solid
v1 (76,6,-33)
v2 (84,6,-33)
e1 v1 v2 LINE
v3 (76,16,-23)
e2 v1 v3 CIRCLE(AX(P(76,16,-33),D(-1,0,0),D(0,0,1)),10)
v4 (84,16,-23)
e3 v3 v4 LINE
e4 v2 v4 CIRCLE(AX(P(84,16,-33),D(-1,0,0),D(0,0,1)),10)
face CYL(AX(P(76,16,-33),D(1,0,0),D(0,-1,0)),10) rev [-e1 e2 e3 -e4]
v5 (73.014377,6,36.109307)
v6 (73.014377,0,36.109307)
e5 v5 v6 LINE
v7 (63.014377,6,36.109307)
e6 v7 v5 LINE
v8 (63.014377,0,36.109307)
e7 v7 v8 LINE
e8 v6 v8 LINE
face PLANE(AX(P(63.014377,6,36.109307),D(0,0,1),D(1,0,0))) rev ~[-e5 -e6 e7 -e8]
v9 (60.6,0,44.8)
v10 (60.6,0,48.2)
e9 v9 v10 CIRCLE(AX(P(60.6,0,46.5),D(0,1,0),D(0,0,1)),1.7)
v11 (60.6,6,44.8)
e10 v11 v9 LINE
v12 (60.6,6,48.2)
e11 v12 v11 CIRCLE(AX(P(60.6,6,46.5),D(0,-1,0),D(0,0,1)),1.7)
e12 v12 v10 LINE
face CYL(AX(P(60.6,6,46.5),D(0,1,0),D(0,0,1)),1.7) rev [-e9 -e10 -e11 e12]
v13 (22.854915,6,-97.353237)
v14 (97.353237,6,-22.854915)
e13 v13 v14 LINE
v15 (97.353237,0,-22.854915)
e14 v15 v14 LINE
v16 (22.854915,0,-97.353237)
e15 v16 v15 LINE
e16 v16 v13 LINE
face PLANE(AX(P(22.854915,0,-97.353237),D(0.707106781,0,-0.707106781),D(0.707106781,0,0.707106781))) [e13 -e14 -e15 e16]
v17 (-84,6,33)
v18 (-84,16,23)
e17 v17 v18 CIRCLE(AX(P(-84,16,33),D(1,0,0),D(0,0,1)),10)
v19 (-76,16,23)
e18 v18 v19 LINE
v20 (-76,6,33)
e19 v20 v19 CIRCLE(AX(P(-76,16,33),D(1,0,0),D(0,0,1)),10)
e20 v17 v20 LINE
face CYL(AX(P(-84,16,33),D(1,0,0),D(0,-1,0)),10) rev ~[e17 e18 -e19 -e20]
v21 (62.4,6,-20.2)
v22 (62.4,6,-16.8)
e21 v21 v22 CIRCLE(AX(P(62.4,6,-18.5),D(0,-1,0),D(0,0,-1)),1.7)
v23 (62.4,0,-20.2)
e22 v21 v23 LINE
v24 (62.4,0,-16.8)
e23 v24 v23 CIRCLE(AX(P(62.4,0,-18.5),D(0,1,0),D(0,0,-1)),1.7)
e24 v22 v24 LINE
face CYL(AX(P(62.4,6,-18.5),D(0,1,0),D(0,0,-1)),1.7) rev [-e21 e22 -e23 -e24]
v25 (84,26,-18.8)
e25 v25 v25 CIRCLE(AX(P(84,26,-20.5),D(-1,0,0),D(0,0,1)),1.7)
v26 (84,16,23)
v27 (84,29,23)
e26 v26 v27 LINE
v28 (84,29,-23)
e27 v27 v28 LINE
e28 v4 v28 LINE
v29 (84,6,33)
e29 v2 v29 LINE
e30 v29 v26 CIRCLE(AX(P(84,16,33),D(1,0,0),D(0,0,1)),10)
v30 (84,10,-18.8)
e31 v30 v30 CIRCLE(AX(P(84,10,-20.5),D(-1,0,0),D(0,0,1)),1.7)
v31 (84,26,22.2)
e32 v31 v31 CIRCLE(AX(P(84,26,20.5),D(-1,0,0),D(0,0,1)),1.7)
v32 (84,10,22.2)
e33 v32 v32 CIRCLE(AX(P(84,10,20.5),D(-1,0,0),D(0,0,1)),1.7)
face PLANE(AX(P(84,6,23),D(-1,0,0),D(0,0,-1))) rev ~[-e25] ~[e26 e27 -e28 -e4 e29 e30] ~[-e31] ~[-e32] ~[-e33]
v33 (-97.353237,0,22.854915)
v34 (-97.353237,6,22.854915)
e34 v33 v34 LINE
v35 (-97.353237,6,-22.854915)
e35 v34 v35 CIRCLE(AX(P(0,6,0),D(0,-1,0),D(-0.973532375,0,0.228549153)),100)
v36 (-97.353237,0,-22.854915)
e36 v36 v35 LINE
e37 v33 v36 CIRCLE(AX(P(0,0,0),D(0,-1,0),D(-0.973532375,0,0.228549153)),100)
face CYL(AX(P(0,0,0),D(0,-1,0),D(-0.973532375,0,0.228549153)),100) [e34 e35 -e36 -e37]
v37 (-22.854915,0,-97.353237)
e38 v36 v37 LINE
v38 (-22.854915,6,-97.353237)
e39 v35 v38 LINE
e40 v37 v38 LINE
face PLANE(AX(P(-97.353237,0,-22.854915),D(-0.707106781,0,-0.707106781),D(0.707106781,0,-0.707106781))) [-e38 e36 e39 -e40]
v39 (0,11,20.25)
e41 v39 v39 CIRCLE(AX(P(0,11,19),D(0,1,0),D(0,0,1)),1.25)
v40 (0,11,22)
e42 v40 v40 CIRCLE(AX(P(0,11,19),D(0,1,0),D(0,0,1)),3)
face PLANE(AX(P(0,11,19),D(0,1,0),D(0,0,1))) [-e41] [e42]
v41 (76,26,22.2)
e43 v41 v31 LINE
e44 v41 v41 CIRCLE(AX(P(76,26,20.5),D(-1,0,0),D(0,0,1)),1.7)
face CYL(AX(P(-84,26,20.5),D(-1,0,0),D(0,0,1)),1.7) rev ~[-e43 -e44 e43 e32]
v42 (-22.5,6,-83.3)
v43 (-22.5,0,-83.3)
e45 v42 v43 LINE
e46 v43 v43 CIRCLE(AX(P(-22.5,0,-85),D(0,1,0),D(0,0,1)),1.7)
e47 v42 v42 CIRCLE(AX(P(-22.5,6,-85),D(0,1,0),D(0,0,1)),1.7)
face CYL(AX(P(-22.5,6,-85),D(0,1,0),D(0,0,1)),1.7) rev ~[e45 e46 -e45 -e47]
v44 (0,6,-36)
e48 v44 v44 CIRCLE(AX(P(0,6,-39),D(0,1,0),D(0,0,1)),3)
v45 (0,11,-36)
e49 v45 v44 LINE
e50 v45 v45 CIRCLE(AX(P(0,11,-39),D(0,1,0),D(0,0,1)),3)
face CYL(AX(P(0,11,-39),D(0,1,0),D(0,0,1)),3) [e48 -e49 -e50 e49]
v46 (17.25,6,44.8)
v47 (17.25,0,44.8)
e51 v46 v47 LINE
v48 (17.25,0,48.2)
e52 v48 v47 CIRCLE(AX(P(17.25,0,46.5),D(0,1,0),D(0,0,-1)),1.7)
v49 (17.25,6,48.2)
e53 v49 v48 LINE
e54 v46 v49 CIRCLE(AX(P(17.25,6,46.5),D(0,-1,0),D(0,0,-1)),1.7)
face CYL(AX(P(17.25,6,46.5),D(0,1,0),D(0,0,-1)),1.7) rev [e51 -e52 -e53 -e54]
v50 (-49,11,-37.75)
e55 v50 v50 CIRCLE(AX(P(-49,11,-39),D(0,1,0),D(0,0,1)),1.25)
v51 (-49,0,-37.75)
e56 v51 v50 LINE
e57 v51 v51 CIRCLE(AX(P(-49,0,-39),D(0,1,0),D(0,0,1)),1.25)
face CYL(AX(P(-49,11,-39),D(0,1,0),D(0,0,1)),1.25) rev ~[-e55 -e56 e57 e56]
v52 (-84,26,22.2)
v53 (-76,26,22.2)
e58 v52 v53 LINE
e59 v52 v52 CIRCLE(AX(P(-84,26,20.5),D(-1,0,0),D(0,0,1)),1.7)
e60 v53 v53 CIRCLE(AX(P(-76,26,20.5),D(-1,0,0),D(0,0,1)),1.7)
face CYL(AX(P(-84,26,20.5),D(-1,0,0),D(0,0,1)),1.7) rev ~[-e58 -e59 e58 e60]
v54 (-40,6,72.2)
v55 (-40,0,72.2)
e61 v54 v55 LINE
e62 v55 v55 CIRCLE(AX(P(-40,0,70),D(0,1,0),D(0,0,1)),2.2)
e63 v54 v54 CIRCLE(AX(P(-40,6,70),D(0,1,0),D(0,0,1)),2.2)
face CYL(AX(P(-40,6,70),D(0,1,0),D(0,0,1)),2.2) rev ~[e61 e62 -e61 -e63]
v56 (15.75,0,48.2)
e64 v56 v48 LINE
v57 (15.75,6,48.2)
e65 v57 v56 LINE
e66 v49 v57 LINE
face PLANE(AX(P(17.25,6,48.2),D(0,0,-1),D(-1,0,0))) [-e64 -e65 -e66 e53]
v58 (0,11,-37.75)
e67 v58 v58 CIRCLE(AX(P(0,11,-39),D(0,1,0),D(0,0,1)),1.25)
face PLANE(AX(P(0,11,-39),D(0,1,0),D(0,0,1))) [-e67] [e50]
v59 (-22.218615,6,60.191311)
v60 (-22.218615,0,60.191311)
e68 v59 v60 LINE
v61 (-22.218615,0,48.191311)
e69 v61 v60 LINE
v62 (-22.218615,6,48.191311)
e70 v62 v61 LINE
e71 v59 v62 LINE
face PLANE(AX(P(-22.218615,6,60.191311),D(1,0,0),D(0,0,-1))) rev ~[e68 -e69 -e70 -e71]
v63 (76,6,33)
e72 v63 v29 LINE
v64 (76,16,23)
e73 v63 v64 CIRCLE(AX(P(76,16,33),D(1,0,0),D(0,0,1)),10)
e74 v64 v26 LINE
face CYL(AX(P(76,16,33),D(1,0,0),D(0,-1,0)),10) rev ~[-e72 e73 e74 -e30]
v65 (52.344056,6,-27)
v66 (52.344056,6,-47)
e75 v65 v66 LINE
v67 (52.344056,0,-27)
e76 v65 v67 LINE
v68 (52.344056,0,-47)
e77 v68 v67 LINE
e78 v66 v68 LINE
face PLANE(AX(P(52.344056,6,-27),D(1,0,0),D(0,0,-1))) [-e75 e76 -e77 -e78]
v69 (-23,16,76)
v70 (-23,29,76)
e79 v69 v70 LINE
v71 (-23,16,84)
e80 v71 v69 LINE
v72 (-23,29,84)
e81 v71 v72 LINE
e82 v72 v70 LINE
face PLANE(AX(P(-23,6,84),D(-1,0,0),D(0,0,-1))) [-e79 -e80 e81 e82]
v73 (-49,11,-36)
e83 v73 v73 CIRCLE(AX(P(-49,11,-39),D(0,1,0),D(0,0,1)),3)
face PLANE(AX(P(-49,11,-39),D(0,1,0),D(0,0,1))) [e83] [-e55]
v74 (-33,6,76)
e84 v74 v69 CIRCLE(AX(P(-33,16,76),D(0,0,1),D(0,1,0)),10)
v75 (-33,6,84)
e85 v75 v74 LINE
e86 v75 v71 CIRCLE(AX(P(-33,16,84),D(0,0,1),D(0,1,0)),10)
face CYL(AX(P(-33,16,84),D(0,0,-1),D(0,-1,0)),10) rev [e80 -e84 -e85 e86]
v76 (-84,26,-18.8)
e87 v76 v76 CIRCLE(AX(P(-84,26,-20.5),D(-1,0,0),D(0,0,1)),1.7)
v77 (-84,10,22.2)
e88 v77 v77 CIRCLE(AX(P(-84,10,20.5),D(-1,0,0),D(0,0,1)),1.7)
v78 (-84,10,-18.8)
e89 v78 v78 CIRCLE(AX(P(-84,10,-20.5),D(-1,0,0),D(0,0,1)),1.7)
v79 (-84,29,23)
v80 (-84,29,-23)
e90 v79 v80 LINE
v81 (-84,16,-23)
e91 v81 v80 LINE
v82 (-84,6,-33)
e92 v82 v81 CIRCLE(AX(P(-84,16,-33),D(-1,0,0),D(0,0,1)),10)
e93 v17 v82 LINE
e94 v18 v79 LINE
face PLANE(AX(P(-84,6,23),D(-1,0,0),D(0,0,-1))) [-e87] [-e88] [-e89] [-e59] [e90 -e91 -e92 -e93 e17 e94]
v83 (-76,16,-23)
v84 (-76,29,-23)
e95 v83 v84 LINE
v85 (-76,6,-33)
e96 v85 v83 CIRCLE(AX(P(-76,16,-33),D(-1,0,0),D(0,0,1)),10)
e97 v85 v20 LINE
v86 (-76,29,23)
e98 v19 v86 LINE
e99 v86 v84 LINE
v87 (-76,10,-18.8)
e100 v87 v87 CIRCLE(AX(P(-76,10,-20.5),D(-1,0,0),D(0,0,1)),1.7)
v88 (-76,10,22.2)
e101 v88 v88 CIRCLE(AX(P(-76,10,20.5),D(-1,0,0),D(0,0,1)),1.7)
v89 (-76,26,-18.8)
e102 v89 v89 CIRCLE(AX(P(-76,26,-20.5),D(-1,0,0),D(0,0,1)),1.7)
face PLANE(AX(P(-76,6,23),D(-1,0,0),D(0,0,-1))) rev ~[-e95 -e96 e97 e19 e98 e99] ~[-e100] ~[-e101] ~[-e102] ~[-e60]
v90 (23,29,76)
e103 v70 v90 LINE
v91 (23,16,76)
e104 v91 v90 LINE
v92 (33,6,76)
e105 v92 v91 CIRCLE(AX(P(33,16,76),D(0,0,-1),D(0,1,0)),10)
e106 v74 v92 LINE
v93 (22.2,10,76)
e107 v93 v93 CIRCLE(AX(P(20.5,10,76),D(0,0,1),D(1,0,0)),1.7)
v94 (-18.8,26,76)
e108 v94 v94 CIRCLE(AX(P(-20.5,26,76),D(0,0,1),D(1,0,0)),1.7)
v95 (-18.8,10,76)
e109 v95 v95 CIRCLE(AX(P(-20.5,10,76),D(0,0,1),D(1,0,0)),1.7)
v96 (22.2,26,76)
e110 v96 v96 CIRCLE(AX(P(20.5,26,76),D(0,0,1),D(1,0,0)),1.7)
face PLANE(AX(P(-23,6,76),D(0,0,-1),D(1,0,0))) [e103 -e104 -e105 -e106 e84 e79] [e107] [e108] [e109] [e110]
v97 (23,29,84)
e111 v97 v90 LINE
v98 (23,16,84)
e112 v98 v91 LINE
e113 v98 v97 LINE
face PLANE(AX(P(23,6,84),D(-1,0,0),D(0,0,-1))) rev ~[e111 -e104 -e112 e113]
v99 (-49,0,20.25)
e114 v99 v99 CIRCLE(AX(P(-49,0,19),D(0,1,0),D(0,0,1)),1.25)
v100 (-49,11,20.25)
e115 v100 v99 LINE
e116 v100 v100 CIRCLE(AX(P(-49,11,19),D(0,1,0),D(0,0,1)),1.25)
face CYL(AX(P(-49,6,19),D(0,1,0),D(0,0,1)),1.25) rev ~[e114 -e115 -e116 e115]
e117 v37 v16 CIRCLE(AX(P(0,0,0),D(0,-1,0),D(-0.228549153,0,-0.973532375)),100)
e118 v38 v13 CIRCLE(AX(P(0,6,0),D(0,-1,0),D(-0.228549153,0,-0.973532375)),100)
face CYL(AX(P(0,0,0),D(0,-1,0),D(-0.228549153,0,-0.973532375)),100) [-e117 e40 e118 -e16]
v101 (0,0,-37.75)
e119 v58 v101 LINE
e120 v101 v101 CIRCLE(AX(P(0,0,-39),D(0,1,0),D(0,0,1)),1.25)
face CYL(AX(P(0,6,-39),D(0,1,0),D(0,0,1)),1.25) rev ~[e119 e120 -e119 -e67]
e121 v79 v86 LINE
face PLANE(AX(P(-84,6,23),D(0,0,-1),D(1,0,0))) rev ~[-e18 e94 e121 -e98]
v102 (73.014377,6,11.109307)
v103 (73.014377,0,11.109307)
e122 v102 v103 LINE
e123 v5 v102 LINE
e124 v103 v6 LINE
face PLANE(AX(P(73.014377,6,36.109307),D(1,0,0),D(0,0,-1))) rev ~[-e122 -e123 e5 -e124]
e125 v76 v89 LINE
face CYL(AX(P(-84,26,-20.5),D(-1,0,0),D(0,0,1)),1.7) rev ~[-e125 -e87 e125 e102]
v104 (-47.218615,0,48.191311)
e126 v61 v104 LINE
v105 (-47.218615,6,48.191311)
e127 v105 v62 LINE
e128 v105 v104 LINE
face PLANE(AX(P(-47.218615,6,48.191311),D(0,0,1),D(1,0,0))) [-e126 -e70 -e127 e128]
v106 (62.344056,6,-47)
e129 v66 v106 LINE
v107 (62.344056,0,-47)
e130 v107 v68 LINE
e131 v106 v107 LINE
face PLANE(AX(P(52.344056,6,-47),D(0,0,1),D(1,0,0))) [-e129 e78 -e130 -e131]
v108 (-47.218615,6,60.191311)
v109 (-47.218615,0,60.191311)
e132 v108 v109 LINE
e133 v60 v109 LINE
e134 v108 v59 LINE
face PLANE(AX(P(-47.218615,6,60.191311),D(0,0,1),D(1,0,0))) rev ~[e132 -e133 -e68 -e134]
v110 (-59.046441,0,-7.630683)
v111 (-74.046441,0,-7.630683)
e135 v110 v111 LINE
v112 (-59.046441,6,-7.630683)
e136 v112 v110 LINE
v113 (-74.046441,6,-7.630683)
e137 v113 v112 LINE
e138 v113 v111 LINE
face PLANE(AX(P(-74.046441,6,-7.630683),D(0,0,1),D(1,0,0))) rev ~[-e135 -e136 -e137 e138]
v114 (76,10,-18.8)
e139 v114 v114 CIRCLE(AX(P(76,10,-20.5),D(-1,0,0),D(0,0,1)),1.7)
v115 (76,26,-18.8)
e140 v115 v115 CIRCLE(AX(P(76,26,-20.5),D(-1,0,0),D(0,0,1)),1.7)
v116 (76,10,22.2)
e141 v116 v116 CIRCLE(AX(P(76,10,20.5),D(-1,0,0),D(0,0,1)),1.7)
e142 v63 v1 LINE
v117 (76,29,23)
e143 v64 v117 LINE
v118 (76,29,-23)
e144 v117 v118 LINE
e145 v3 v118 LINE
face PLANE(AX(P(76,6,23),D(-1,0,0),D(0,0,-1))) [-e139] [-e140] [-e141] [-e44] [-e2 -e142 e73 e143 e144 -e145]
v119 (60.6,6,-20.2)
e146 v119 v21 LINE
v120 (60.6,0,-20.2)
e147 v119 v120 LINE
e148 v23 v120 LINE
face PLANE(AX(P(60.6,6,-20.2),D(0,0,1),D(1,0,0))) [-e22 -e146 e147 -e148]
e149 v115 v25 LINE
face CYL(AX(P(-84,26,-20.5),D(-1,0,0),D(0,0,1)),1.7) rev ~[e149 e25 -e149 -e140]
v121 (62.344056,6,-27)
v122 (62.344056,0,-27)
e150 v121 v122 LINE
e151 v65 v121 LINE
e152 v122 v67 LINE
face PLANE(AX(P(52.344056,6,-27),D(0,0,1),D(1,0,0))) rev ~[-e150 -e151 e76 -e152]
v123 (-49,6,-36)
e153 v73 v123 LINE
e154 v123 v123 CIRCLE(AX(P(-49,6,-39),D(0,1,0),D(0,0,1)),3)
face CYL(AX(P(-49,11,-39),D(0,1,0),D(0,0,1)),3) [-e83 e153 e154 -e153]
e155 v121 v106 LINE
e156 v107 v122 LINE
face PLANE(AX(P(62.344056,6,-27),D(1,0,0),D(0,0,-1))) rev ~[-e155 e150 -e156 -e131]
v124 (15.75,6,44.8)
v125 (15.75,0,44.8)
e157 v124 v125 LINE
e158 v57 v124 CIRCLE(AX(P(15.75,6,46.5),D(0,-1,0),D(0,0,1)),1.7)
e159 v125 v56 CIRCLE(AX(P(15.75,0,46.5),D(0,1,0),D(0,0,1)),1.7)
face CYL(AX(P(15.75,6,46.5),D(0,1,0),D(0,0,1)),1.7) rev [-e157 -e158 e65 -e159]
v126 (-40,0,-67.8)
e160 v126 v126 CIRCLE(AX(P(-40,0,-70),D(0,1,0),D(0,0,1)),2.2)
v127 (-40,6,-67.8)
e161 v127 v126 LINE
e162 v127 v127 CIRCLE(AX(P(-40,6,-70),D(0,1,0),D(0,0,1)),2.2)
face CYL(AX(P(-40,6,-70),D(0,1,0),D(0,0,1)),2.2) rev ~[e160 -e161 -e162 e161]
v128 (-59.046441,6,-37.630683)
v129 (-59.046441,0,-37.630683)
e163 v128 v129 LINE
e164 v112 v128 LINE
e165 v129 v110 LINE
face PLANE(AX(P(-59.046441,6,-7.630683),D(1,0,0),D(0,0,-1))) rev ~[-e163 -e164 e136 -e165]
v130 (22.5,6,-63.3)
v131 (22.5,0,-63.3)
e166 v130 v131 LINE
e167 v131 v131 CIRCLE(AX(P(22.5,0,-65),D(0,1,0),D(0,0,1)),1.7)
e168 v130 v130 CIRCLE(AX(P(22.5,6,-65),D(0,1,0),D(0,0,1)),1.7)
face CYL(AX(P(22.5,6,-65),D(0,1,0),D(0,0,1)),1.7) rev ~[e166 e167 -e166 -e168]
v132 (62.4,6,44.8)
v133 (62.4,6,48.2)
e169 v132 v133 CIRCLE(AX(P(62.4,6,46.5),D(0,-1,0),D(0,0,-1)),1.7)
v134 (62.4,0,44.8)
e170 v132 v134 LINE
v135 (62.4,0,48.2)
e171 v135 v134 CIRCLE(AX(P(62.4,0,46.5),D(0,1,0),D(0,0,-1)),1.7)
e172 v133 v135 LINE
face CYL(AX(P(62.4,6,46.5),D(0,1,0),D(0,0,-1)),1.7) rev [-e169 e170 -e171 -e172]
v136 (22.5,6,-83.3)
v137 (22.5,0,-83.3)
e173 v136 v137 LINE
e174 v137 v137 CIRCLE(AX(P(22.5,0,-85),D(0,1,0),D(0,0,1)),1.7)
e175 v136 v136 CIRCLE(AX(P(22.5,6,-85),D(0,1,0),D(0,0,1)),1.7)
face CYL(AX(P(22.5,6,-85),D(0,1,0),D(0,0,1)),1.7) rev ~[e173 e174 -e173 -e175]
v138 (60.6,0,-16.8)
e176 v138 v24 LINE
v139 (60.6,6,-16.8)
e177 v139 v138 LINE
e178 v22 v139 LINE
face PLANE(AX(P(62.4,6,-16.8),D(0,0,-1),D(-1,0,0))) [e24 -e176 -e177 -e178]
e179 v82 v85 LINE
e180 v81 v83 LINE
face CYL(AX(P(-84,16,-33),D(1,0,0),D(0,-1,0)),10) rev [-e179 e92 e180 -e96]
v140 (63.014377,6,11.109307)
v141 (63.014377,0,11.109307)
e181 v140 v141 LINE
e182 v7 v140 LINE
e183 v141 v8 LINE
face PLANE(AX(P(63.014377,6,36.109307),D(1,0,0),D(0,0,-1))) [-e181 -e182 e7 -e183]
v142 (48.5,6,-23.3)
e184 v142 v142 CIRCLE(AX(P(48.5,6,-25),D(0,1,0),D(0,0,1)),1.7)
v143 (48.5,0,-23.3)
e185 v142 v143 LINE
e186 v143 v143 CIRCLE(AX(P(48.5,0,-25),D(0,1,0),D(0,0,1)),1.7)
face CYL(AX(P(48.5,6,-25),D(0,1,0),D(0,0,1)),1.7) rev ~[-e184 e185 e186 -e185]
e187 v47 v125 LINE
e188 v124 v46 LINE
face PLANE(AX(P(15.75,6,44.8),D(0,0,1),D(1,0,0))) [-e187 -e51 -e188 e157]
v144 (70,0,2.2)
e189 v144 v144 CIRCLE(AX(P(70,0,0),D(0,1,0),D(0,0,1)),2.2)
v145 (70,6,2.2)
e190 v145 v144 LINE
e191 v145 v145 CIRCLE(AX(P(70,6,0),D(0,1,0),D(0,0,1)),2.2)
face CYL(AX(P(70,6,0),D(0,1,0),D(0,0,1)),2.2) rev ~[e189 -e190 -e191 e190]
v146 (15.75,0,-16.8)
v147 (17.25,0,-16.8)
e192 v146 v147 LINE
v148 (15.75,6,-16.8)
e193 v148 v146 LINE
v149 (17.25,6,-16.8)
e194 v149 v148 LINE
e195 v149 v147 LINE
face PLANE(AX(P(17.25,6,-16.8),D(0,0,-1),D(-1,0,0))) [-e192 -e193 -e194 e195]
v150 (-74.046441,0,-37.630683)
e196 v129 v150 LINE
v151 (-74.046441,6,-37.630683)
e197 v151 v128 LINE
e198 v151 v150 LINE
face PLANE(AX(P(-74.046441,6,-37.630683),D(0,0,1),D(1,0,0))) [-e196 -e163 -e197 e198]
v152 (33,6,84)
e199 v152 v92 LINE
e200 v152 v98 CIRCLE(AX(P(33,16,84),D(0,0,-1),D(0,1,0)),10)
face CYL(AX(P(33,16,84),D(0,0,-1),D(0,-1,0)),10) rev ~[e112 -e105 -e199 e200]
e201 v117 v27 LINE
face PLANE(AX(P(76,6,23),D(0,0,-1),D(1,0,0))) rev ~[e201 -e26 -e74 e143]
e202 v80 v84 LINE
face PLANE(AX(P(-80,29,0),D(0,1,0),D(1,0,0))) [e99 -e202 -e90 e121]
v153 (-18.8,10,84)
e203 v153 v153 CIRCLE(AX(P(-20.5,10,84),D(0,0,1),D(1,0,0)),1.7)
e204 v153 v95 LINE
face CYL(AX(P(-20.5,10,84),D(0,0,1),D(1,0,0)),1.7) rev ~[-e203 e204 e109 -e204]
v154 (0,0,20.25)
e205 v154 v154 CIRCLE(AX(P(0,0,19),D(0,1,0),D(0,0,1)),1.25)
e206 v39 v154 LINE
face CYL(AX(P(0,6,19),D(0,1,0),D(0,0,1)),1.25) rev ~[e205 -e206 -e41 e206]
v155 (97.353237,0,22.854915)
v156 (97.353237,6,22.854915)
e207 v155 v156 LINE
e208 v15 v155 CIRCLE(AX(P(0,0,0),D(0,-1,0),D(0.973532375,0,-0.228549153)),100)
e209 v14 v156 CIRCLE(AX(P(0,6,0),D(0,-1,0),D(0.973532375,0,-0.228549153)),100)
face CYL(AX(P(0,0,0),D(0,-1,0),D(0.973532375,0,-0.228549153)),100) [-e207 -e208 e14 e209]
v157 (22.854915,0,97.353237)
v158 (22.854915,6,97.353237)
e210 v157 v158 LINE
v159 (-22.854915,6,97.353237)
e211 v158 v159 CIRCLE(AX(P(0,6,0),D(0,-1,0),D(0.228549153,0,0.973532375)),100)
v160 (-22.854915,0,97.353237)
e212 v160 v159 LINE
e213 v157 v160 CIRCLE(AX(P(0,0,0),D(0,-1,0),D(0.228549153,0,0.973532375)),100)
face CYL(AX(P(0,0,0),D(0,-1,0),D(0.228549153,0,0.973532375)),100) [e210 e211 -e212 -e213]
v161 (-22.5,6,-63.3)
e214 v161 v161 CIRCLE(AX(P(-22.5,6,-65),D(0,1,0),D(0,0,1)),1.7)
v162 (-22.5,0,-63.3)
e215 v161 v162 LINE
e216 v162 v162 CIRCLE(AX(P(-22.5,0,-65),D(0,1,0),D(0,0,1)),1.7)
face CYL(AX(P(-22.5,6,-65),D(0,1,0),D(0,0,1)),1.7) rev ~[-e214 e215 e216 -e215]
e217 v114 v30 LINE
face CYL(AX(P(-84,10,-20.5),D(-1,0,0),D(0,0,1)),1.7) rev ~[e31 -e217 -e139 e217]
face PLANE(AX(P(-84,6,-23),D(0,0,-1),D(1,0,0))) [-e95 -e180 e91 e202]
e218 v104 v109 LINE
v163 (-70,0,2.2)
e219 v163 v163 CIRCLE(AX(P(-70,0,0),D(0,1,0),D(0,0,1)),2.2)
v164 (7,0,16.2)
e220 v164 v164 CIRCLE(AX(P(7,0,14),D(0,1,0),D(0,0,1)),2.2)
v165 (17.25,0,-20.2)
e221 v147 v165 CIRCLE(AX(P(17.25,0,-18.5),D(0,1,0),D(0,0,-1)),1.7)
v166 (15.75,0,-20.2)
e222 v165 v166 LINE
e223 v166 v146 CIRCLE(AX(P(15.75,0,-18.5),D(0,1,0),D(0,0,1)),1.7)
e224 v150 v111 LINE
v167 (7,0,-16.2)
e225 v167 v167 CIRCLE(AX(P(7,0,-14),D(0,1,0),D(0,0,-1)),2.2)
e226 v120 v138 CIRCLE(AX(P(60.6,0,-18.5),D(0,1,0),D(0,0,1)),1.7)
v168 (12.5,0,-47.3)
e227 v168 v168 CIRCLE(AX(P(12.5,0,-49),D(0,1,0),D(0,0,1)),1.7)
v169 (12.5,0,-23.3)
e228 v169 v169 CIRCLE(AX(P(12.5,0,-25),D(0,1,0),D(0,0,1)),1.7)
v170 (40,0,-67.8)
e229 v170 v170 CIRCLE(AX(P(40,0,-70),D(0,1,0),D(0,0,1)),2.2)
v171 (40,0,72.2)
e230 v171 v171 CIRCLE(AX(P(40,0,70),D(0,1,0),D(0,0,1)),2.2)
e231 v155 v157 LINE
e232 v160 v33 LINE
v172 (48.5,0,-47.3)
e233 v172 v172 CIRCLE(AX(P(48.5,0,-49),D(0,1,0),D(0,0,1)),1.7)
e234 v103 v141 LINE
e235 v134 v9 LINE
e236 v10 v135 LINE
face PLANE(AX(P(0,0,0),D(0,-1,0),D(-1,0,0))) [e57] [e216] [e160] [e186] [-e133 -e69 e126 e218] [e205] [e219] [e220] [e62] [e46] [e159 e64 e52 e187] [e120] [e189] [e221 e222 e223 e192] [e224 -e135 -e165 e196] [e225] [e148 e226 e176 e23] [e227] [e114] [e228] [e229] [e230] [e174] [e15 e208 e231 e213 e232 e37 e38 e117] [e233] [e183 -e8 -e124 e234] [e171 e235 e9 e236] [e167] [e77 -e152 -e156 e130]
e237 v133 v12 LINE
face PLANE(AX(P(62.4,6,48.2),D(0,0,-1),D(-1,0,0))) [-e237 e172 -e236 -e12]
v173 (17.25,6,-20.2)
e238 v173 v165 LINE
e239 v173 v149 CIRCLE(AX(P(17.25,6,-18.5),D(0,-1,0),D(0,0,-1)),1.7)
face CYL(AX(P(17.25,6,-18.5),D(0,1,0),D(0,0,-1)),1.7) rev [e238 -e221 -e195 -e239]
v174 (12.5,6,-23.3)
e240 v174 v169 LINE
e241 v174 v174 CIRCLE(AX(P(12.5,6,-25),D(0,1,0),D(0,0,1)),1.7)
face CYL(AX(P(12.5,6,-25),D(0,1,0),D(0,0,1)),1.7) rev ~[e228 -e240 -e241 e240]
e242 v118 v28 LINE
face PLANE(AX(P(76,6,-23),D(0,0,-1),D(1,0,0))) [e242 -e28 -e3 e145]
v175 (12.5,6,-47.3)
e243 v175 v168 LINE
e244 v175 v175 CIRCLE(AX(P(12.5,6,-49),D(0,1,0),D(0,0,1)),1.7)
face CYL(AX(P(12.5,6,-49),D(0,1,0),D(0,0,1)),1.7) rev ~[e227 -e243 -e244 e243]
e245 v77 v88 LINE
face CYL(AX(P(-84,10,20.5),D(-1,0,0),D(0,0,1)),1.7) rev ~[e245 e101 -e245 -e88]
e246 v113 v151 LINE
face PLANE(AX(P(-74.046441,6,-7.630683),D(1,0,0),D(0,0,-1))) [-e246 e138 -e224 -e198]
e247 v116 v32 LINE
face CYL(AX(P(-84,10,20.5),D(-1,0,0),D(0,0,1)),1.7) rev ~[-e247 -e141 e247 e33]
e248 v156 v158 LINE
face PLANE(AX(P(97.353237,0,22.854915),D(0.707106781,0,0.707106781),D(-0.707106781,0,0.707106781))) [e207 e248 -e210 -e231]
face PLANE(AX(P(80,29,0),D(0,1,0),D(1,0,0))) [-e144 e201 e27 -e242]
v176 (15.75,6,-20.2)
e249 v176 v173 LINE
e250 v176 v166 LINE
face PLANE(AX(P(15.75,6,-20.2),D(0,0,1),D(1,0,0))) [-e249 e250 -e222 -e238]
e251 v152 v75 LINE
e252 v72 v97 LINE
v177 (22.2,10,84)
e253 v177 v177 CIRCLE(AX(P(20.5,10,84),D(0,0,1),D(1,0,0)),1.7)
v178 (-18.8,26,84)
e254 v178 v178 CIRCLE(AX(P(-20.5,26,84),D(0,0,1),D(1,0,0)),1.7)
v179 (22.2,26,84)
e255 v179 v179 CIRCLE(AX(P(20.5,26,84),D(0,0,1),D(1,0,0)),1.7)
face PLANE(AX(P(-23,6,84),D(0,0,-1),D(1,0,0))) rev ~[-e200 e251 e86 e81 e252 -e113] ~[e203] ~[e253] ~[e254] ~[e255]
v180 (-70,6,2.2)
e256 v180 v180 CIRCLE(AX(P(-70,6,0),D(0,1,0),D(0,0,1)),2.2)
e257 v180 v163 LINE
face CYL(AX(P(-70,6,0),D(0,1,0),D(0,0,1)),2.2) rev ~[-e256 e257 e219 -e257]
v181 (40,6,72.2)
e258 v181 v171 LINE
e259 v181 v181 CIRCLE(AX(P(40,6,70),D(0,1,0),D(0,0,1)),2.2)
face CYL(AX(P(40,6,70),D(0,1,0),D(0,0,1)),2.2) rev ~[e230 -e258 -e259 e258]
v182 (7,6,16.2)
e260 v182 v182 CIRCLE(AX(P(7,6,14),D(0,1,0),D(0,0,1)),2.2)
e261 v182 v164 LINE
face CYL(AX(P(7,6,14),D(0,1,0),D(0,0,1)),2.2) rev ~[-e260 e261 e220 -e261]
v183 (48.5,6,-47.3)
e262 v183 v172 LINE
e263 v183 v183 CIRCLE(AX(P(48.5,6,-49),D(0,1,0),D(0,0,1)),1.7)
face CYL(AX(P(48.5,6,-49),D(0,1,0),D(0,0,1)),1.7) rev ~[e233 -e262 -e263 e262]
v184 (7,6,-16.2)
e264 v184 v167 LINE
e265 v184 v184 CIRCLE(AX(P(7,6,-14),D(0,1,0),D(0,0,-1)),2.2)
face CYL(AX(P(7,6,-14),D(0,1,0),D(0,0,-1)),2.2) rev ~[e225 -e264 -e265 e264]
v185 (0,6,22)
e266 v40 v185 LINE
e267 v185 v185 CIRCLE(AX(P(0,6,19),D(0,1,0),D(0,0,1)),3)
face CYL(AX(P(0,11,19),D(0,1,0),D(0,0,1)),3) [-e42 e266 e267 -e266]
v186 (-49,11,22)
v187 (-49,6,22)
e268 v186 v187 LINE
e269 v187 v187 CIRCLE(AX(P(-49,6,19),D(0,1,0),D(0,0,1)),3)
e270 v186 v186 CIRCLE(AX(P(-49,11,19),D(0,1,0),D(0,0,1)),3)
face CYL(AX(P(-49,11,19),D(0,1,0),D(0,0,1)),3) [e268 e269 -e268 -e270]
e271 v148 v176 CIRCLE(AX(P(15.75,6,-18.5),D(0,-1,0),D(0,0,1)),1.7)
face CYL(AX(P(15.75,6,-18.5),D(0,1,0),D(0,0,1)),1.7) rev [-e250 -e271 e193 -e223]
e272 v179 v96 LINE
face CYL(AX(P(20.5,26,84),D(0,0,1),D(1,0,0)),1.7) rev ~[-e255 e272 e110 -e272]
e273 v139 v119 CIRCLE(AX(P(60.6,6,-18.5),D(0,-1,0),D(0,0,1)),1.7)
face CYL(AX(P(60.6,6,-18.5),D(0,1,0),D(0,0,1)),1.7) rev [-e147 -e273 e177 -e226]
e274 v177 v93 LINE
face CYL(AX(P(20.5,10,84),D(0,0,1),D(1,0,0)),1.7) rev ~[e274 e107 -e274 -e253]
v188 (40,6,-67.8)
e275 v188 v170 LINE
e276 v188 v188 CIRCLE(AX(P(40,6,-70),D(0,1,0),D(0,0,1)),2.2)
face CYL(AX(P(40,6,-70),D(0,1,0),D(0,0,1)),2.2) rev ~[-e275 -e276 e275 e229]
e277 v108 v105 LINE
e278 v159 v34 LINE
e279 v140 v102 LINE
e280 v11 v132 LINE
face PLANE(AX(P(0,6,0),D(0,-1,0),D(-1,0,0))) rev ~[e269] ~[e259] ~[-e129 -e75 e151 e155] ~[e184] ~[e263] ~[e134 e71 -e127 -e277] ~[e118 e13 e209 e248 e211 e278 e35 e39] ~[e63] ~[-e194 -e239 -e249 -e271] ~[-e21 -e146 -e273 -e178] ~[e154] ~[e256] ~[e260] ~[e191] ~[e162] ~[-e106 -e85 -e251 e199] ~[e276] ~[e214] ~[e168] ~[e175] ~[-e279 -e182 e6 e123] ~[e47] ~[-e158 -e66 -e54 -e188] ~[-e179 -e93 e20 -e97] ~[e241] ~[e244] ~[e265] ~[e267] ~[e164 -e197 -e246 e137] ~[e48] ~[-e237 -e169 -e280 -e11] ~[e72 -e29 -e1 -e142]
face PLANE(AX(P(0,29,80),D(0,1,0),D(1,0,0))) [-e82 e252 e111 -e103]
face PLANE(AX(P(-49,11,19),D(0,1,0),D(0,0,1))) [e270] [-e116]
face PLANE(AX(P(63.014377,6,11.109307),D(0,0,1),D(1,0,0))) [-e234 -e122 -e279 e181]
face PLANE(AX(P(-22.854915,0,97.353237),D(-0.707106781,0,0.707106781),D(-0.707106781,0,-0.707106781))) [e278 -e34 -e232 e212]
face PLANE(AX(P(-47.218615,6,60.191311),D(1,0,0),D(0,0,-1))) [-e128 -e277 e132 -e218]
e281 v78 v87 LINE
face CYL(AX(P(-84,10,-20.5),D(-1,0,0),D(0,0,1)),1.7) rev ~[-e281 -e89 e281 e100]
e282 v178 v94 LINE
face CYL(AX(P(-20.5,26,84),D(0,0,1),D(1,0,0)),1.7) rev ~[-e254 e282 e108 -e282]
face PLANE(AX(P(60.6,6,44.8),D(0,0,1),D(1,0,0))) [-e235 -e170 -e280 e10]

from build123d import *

# Parameters (mm, degrees)
BOSS_EXTRUDE1_DEPTH = 6
SKETCH2_R           = 1.7
SKETCH2_R_2         = 1.25
SKETCH2_R_3         = 2.2
SKETCH2_W           = 25
SKETCH2_H           = 12
SKETCH2_W_2         = 10
SKETCH2_H_2         = 20
SKETCH2_W_3         = 15
SKETCH2_H_3         = 30
SKETCH2_H_4         = 25
CUT_EXTRUDE1_DEPTH  = 142.548578234
SKETCH3_W           = 8
SKETCH3_H           = 46
SKETCH3_W_2         = 46
SKETCH3_H_2         = 8
BOSS_EXTRUDE2_DEPTH = 23
SKETCH4_R           = 1.7
CUT_EXTRUDE2_DEPTH  = 212.416650243
SKETCH5_R           = 1.7
CUT_EXTRUDE3_DEPTH  = 212.416650243
FILLET1_R           = 10
BOSS_EXTRUDE3_START = 5
SKETCH7_R           = 3
SKETCH7_R_2         = 1.25
BOSS_EXTRUDE3_DEPTH = 5


with BuildPart() as part:
    # Sketch1 → Boss-Extrude1 (new body)
    with BuildSketch(Plane(origin=(0, 0, 0), x_dir=(1, 0, 0), z_dir=(0, 1, 0))):
        with BuildLine():
            Line((97.353237465, -22.854915336), (22.854915336, -97.353237465))
            ThreePointArc((22.854915336, -97.353237465), (0, -100), (-22.854915336, -97.353237465))
            Line((-22.854915336, -97.353237465), (-97.353237465, -22.854915336))
            ThreePointArc((-97.353237465, -22.854915336), (-100, 0), (-97.353237465, 22.854915336))
            Line((-97.353237465, 22.854915336), (-22.854915336, 97.353237465))
            ThreePointArc((-22.854915336, 97.353237465), (0, 100), (22.854915336, 97.353237465))
            Line((22.854915336, 97.353237465), (97.353237465, 22.854915336))
            ThreePointArc((97.353237465, 22.854915336), (100, 0), (97.353237465, -22.854915336))
        make_face()
    extrude(amount=BOSS_EXTRUDE1_DEPTH)

    # Sketch2 → Cut-Extrude1 (cut, through all)
    with BuildSketch(Plane(origin=(0, 6, 0), x_dir=(1, 0, 0), z_dir=(0, 1, 0))):
        with Locations(Location((12.5, 25, 0), (0, 0, 270))):
            Circle(SKETCH2_R)
        with Locations(Location((48.5, 25, 0), (0, 0, 270))):
            Circle(SKETCH2_R)
        with Locations(Location((48.5, 49, 0), (0, 0, 270))):
            Circle(SKETCH2_R)
        with Locations(Location((12.5, 49, 0), (0, 0, 270))):
            Circle(SKETCH2_R)
        with Locations(Location((-49, 39, 0), (0, 0, 270))):
            Circle(SKETCH2_R_2)
        with Locations(Location((0, 39, 0), (0, 0, 270))):
            Circle(SKETCH2_R_2)
        with Locations(Location((-49, -19, 0), (0, 0, 270))):
            Circle(SKETCH2_R_2)
        with Locations(Location((0, -19, 0), (0, 0, 270))):
            Circle(SKETCH2_R_2)
        with Locations(Location((-22.5, 85, 0), (0, 0, 270))):
            Circle(SKETCH2_R)
        with Locations(Location((22.5, 85, 0), (0, 0, 270))):
            Circle(SKETCH2_R)
        with Locations(Location((22.5, 65, 0), (0, 0, 270))):
            Circle(SKETCH2_R)
        with Locations(Location((-22.5, 65, 0), (0, 0, 270))):
            Circle(SKETCH2_R)
        with Locations(Location((-40, -70, 0), (0, 0, 270))):
            Circle(SKETCH2_R_3)
        with Locations(Location((40, -70, 0), (0, 0, 270))):
            Circle(SKETCH2_R_3)
        with Locations(Location((40, 70, 0), (0, 0, 270))):
            Circle(SKETCH2_R_3)
        with Locations(Location((-40, 70, 0), (0, 0, 270))):
            Circle(SKETCH2_R_3)
        with Locations(Location((-70, 0, 0), (0, 0, 270))):
            Circle(SKETCH2_R_3)
        with Locations(Location((70, 0, 0), (0, 0, 270))):
            Circle(SKETCH2_R_3)
        with Locations(Location((7, -14, 0), (0, 0, 270))):
            Circle(SKETCH2_R_3)
        with Locations(Location((7, 14, 0), (0, 0, 90))):
            Circle(SKETCH2_R_3)
        with BuildLine():
            Line((15.75, 20.2), (17.25, 20.2))
            ThreePointArc((17.25, 20.2), (18.95, 18.5), (17.25, 16.8))
            Line((17.25, 16.8), (15.75, 16.8))
            ThreePointArc((15.75, 16.8), (14.05, 18.5), (15.75, 20.2))
        make_face()
        with BuildLine():
            Line((60.6, 20.2), (62.4, 20.2))
            ThreePointArc((62.4, 20.2), (64.1, 18.5), (62.4, 16.8))
            Line((62.4, 16.8), (60.6, 16.8))
            ThreePointArc((60.6, 16.8), (58.9, 18.5), (60.6, 20.2))
        make_face()
        with BuildLine():
            Line((15.75, -44.8), (17.25, -44.8))
            ThreePointArc((17.25, -44.8), (18.95, -46.5), (17.25, -48.2))
            Line((17.25, -48.2), (15.75, -48.2))
            ThreePointArc((15.75, -48.2), (14.05, -46.5), (15.75, -44.8))
        make_face()
        with BuildLine():
            Line((60.6, -44.8), (62.4, -44.8))
            ThreePointArc((62.4, -44.8), (64.1, -46.5), (62.4, -48.2))
            Line((62.4, -48.2), (60.6, -48.2))
            ThreePointArc((60.6, -48.2), (58.9, -46.5), (60.6, -44.8))
        make_face()
        with Locations((-34.718614501, -54.191311461)):
            Rectangle(SKETCH2_W, SKETCH2_H)
        with Locations((57.34405649, 37)):
            Rectangle(SKETCH2_W_2, SKETCH2_H_2)
        with Locations((-66.546441163, 22.630683116)):
            Rectangle(SKETCH2_W_3, SKETCH2_H_3)
        with Locations((68.014377365, -23.609307251)):
            Rectangle(SKETCH2_W_2, SKETCH2_H_4)
    extrude(amount=-CUT_EXTRUDE1_DEPTH, mode=Mode.SUBTRACT)

    # Sketch3 → Boss-Extrude2 (add)
    with BuildSketch(Plane(origin=(0, 6, 0), x_dir=(1, 0, 0), z_dir=(0, 1, 0))):
        with Locations((-80, 0)):
            Rectangle(SKETCH3_W, SKETCH3_H)
        with Locations((0, -80)):
            Rectangle(SKETCH3_W_2, SKETCH3_H_2)
        with Locations((80, 0)):
            Rectangle(SKETCH3_W, SKETCH3_H)
    extrude(amount=BOSS_EXTRUDE2_DEPTH)

    # Sketch4 → Cut-Extrude2 (cut, through all)
    with BuildSketch(Plane.ZY.offset(84)):
        with Locations((-20.5, 26)):
            Circle(SKETCH4_R)
        with Locations((20.5, 26)):
            Circle(SKETCH4_R)
        with Locations((20.5, 10)):
            Circle(SKETCH4_R)
        with Locations((-20.5, 10)):
            Circle(SKETCH4_R)
    extrude(amount=-CUT_EXTRUDE2_DEPTH, mode=Mode.SUBTRACT)

    # Sketch5 → Cut-Extrude3 (cut, through all)
    with BuildSketch(Plane.XY.offset(84)):
        with Locations((-20.5, 26)):
            Circle(SKETCH5_R)
        with Locations((20.5, 26)):
            Circle(SKETCH5_R)
        with Locations((20.5, 10)):
            Circle(SKETCH5_R)
        with Locations((-20.5, 10)):
            Circle(SKETCH5_R)
    extrude(amount=-CUT_EXTRUDE3_DEPTH, mode=Mode.SUBTRACT)

    # Fillet1
    fillet1_edges = [part.edges().sort_by_distance(p)[0] for p in [
        (-80, 6, -23),
        (-80, 6, 23),
        (23, 6, 80),
        (-23, 6, 80),
        (80, 6, -23),
        (80, 6, 23),
    ]]
    fillet(fillet1_edges, radius=FILLET1_R)

    # Sketch7 → Boss-Extrude3 (add)
    # profile 1 of 4: a face of its own
    with BuildSketch(Plane(origin=(0, 6, 0), x_dir=(1, 0, 0), z_dir=(0, 1, 0)).offset(BOSS_EXTRUDE3_START)):
        with Locations(Location((-49, 39, 0), (0, 0, 270))):
            Circle(SKETCH7_R)
        with Locations(Location((-49, 39, 0), (0, 0, 270))):
            Circle(SKETCH7_R_2, mode=Mode.SUBTRACT)
    # profile 2 of 4: a face of its own
    with BuildSketch(Plane(origin=(0, 6, 0), x_dir=(1, 0, 0), z_dir=(0, 1, 0)).offset(BOSS_EXTRUDE3_START)):
        with Locations(Location((0, 39, 0), (0, 0, 270))):
            Circle(SKETCH7_R)
        with Locations(Location((0, 39, 0), (0, 0, 270))):
            Circle(SKETCH7_R_2, mode=Mode.SUBTRACT)
    # profile 3 of 4: a face of its own
    with BuildSketch(Plane(origin=(0, 6, 0), x_dir=(1, 0, 0), z_dir=(0, 1, 0)).offset(BOSS_EXTRUDE3_START)):
        with Locations(Location((0, -19, 0), (0, 0, 270))):
            Circle(SKETCH7_R)
        with Locations(Location((0, -19, 0), (0, 0, 270))):
            Circle(SKETCH7_R_2, mode=Mode.SUBTRACT)
    # profile 4 of 4: a face of its own
    with BuildSketch(Plane(origin=(0, 6, 0), x_dir=(1, 0, 0), z_dir=(0, 1, 0)).offset(BOSS_EXTRUDE3_START)):
        with Locations(Location((-49, -19, 0), (0, 0, 270))):
            Circle(SKETCH7_R)
        with Locations(Location((-49, -19, 0), (0, 0, 270))):
            Circle(SKETCH7_R_2, mode=Mode.SUBTRACT)
    extrude(amount=-BOSS_EXTRUDE3_DEPTH)


solid = part.part
